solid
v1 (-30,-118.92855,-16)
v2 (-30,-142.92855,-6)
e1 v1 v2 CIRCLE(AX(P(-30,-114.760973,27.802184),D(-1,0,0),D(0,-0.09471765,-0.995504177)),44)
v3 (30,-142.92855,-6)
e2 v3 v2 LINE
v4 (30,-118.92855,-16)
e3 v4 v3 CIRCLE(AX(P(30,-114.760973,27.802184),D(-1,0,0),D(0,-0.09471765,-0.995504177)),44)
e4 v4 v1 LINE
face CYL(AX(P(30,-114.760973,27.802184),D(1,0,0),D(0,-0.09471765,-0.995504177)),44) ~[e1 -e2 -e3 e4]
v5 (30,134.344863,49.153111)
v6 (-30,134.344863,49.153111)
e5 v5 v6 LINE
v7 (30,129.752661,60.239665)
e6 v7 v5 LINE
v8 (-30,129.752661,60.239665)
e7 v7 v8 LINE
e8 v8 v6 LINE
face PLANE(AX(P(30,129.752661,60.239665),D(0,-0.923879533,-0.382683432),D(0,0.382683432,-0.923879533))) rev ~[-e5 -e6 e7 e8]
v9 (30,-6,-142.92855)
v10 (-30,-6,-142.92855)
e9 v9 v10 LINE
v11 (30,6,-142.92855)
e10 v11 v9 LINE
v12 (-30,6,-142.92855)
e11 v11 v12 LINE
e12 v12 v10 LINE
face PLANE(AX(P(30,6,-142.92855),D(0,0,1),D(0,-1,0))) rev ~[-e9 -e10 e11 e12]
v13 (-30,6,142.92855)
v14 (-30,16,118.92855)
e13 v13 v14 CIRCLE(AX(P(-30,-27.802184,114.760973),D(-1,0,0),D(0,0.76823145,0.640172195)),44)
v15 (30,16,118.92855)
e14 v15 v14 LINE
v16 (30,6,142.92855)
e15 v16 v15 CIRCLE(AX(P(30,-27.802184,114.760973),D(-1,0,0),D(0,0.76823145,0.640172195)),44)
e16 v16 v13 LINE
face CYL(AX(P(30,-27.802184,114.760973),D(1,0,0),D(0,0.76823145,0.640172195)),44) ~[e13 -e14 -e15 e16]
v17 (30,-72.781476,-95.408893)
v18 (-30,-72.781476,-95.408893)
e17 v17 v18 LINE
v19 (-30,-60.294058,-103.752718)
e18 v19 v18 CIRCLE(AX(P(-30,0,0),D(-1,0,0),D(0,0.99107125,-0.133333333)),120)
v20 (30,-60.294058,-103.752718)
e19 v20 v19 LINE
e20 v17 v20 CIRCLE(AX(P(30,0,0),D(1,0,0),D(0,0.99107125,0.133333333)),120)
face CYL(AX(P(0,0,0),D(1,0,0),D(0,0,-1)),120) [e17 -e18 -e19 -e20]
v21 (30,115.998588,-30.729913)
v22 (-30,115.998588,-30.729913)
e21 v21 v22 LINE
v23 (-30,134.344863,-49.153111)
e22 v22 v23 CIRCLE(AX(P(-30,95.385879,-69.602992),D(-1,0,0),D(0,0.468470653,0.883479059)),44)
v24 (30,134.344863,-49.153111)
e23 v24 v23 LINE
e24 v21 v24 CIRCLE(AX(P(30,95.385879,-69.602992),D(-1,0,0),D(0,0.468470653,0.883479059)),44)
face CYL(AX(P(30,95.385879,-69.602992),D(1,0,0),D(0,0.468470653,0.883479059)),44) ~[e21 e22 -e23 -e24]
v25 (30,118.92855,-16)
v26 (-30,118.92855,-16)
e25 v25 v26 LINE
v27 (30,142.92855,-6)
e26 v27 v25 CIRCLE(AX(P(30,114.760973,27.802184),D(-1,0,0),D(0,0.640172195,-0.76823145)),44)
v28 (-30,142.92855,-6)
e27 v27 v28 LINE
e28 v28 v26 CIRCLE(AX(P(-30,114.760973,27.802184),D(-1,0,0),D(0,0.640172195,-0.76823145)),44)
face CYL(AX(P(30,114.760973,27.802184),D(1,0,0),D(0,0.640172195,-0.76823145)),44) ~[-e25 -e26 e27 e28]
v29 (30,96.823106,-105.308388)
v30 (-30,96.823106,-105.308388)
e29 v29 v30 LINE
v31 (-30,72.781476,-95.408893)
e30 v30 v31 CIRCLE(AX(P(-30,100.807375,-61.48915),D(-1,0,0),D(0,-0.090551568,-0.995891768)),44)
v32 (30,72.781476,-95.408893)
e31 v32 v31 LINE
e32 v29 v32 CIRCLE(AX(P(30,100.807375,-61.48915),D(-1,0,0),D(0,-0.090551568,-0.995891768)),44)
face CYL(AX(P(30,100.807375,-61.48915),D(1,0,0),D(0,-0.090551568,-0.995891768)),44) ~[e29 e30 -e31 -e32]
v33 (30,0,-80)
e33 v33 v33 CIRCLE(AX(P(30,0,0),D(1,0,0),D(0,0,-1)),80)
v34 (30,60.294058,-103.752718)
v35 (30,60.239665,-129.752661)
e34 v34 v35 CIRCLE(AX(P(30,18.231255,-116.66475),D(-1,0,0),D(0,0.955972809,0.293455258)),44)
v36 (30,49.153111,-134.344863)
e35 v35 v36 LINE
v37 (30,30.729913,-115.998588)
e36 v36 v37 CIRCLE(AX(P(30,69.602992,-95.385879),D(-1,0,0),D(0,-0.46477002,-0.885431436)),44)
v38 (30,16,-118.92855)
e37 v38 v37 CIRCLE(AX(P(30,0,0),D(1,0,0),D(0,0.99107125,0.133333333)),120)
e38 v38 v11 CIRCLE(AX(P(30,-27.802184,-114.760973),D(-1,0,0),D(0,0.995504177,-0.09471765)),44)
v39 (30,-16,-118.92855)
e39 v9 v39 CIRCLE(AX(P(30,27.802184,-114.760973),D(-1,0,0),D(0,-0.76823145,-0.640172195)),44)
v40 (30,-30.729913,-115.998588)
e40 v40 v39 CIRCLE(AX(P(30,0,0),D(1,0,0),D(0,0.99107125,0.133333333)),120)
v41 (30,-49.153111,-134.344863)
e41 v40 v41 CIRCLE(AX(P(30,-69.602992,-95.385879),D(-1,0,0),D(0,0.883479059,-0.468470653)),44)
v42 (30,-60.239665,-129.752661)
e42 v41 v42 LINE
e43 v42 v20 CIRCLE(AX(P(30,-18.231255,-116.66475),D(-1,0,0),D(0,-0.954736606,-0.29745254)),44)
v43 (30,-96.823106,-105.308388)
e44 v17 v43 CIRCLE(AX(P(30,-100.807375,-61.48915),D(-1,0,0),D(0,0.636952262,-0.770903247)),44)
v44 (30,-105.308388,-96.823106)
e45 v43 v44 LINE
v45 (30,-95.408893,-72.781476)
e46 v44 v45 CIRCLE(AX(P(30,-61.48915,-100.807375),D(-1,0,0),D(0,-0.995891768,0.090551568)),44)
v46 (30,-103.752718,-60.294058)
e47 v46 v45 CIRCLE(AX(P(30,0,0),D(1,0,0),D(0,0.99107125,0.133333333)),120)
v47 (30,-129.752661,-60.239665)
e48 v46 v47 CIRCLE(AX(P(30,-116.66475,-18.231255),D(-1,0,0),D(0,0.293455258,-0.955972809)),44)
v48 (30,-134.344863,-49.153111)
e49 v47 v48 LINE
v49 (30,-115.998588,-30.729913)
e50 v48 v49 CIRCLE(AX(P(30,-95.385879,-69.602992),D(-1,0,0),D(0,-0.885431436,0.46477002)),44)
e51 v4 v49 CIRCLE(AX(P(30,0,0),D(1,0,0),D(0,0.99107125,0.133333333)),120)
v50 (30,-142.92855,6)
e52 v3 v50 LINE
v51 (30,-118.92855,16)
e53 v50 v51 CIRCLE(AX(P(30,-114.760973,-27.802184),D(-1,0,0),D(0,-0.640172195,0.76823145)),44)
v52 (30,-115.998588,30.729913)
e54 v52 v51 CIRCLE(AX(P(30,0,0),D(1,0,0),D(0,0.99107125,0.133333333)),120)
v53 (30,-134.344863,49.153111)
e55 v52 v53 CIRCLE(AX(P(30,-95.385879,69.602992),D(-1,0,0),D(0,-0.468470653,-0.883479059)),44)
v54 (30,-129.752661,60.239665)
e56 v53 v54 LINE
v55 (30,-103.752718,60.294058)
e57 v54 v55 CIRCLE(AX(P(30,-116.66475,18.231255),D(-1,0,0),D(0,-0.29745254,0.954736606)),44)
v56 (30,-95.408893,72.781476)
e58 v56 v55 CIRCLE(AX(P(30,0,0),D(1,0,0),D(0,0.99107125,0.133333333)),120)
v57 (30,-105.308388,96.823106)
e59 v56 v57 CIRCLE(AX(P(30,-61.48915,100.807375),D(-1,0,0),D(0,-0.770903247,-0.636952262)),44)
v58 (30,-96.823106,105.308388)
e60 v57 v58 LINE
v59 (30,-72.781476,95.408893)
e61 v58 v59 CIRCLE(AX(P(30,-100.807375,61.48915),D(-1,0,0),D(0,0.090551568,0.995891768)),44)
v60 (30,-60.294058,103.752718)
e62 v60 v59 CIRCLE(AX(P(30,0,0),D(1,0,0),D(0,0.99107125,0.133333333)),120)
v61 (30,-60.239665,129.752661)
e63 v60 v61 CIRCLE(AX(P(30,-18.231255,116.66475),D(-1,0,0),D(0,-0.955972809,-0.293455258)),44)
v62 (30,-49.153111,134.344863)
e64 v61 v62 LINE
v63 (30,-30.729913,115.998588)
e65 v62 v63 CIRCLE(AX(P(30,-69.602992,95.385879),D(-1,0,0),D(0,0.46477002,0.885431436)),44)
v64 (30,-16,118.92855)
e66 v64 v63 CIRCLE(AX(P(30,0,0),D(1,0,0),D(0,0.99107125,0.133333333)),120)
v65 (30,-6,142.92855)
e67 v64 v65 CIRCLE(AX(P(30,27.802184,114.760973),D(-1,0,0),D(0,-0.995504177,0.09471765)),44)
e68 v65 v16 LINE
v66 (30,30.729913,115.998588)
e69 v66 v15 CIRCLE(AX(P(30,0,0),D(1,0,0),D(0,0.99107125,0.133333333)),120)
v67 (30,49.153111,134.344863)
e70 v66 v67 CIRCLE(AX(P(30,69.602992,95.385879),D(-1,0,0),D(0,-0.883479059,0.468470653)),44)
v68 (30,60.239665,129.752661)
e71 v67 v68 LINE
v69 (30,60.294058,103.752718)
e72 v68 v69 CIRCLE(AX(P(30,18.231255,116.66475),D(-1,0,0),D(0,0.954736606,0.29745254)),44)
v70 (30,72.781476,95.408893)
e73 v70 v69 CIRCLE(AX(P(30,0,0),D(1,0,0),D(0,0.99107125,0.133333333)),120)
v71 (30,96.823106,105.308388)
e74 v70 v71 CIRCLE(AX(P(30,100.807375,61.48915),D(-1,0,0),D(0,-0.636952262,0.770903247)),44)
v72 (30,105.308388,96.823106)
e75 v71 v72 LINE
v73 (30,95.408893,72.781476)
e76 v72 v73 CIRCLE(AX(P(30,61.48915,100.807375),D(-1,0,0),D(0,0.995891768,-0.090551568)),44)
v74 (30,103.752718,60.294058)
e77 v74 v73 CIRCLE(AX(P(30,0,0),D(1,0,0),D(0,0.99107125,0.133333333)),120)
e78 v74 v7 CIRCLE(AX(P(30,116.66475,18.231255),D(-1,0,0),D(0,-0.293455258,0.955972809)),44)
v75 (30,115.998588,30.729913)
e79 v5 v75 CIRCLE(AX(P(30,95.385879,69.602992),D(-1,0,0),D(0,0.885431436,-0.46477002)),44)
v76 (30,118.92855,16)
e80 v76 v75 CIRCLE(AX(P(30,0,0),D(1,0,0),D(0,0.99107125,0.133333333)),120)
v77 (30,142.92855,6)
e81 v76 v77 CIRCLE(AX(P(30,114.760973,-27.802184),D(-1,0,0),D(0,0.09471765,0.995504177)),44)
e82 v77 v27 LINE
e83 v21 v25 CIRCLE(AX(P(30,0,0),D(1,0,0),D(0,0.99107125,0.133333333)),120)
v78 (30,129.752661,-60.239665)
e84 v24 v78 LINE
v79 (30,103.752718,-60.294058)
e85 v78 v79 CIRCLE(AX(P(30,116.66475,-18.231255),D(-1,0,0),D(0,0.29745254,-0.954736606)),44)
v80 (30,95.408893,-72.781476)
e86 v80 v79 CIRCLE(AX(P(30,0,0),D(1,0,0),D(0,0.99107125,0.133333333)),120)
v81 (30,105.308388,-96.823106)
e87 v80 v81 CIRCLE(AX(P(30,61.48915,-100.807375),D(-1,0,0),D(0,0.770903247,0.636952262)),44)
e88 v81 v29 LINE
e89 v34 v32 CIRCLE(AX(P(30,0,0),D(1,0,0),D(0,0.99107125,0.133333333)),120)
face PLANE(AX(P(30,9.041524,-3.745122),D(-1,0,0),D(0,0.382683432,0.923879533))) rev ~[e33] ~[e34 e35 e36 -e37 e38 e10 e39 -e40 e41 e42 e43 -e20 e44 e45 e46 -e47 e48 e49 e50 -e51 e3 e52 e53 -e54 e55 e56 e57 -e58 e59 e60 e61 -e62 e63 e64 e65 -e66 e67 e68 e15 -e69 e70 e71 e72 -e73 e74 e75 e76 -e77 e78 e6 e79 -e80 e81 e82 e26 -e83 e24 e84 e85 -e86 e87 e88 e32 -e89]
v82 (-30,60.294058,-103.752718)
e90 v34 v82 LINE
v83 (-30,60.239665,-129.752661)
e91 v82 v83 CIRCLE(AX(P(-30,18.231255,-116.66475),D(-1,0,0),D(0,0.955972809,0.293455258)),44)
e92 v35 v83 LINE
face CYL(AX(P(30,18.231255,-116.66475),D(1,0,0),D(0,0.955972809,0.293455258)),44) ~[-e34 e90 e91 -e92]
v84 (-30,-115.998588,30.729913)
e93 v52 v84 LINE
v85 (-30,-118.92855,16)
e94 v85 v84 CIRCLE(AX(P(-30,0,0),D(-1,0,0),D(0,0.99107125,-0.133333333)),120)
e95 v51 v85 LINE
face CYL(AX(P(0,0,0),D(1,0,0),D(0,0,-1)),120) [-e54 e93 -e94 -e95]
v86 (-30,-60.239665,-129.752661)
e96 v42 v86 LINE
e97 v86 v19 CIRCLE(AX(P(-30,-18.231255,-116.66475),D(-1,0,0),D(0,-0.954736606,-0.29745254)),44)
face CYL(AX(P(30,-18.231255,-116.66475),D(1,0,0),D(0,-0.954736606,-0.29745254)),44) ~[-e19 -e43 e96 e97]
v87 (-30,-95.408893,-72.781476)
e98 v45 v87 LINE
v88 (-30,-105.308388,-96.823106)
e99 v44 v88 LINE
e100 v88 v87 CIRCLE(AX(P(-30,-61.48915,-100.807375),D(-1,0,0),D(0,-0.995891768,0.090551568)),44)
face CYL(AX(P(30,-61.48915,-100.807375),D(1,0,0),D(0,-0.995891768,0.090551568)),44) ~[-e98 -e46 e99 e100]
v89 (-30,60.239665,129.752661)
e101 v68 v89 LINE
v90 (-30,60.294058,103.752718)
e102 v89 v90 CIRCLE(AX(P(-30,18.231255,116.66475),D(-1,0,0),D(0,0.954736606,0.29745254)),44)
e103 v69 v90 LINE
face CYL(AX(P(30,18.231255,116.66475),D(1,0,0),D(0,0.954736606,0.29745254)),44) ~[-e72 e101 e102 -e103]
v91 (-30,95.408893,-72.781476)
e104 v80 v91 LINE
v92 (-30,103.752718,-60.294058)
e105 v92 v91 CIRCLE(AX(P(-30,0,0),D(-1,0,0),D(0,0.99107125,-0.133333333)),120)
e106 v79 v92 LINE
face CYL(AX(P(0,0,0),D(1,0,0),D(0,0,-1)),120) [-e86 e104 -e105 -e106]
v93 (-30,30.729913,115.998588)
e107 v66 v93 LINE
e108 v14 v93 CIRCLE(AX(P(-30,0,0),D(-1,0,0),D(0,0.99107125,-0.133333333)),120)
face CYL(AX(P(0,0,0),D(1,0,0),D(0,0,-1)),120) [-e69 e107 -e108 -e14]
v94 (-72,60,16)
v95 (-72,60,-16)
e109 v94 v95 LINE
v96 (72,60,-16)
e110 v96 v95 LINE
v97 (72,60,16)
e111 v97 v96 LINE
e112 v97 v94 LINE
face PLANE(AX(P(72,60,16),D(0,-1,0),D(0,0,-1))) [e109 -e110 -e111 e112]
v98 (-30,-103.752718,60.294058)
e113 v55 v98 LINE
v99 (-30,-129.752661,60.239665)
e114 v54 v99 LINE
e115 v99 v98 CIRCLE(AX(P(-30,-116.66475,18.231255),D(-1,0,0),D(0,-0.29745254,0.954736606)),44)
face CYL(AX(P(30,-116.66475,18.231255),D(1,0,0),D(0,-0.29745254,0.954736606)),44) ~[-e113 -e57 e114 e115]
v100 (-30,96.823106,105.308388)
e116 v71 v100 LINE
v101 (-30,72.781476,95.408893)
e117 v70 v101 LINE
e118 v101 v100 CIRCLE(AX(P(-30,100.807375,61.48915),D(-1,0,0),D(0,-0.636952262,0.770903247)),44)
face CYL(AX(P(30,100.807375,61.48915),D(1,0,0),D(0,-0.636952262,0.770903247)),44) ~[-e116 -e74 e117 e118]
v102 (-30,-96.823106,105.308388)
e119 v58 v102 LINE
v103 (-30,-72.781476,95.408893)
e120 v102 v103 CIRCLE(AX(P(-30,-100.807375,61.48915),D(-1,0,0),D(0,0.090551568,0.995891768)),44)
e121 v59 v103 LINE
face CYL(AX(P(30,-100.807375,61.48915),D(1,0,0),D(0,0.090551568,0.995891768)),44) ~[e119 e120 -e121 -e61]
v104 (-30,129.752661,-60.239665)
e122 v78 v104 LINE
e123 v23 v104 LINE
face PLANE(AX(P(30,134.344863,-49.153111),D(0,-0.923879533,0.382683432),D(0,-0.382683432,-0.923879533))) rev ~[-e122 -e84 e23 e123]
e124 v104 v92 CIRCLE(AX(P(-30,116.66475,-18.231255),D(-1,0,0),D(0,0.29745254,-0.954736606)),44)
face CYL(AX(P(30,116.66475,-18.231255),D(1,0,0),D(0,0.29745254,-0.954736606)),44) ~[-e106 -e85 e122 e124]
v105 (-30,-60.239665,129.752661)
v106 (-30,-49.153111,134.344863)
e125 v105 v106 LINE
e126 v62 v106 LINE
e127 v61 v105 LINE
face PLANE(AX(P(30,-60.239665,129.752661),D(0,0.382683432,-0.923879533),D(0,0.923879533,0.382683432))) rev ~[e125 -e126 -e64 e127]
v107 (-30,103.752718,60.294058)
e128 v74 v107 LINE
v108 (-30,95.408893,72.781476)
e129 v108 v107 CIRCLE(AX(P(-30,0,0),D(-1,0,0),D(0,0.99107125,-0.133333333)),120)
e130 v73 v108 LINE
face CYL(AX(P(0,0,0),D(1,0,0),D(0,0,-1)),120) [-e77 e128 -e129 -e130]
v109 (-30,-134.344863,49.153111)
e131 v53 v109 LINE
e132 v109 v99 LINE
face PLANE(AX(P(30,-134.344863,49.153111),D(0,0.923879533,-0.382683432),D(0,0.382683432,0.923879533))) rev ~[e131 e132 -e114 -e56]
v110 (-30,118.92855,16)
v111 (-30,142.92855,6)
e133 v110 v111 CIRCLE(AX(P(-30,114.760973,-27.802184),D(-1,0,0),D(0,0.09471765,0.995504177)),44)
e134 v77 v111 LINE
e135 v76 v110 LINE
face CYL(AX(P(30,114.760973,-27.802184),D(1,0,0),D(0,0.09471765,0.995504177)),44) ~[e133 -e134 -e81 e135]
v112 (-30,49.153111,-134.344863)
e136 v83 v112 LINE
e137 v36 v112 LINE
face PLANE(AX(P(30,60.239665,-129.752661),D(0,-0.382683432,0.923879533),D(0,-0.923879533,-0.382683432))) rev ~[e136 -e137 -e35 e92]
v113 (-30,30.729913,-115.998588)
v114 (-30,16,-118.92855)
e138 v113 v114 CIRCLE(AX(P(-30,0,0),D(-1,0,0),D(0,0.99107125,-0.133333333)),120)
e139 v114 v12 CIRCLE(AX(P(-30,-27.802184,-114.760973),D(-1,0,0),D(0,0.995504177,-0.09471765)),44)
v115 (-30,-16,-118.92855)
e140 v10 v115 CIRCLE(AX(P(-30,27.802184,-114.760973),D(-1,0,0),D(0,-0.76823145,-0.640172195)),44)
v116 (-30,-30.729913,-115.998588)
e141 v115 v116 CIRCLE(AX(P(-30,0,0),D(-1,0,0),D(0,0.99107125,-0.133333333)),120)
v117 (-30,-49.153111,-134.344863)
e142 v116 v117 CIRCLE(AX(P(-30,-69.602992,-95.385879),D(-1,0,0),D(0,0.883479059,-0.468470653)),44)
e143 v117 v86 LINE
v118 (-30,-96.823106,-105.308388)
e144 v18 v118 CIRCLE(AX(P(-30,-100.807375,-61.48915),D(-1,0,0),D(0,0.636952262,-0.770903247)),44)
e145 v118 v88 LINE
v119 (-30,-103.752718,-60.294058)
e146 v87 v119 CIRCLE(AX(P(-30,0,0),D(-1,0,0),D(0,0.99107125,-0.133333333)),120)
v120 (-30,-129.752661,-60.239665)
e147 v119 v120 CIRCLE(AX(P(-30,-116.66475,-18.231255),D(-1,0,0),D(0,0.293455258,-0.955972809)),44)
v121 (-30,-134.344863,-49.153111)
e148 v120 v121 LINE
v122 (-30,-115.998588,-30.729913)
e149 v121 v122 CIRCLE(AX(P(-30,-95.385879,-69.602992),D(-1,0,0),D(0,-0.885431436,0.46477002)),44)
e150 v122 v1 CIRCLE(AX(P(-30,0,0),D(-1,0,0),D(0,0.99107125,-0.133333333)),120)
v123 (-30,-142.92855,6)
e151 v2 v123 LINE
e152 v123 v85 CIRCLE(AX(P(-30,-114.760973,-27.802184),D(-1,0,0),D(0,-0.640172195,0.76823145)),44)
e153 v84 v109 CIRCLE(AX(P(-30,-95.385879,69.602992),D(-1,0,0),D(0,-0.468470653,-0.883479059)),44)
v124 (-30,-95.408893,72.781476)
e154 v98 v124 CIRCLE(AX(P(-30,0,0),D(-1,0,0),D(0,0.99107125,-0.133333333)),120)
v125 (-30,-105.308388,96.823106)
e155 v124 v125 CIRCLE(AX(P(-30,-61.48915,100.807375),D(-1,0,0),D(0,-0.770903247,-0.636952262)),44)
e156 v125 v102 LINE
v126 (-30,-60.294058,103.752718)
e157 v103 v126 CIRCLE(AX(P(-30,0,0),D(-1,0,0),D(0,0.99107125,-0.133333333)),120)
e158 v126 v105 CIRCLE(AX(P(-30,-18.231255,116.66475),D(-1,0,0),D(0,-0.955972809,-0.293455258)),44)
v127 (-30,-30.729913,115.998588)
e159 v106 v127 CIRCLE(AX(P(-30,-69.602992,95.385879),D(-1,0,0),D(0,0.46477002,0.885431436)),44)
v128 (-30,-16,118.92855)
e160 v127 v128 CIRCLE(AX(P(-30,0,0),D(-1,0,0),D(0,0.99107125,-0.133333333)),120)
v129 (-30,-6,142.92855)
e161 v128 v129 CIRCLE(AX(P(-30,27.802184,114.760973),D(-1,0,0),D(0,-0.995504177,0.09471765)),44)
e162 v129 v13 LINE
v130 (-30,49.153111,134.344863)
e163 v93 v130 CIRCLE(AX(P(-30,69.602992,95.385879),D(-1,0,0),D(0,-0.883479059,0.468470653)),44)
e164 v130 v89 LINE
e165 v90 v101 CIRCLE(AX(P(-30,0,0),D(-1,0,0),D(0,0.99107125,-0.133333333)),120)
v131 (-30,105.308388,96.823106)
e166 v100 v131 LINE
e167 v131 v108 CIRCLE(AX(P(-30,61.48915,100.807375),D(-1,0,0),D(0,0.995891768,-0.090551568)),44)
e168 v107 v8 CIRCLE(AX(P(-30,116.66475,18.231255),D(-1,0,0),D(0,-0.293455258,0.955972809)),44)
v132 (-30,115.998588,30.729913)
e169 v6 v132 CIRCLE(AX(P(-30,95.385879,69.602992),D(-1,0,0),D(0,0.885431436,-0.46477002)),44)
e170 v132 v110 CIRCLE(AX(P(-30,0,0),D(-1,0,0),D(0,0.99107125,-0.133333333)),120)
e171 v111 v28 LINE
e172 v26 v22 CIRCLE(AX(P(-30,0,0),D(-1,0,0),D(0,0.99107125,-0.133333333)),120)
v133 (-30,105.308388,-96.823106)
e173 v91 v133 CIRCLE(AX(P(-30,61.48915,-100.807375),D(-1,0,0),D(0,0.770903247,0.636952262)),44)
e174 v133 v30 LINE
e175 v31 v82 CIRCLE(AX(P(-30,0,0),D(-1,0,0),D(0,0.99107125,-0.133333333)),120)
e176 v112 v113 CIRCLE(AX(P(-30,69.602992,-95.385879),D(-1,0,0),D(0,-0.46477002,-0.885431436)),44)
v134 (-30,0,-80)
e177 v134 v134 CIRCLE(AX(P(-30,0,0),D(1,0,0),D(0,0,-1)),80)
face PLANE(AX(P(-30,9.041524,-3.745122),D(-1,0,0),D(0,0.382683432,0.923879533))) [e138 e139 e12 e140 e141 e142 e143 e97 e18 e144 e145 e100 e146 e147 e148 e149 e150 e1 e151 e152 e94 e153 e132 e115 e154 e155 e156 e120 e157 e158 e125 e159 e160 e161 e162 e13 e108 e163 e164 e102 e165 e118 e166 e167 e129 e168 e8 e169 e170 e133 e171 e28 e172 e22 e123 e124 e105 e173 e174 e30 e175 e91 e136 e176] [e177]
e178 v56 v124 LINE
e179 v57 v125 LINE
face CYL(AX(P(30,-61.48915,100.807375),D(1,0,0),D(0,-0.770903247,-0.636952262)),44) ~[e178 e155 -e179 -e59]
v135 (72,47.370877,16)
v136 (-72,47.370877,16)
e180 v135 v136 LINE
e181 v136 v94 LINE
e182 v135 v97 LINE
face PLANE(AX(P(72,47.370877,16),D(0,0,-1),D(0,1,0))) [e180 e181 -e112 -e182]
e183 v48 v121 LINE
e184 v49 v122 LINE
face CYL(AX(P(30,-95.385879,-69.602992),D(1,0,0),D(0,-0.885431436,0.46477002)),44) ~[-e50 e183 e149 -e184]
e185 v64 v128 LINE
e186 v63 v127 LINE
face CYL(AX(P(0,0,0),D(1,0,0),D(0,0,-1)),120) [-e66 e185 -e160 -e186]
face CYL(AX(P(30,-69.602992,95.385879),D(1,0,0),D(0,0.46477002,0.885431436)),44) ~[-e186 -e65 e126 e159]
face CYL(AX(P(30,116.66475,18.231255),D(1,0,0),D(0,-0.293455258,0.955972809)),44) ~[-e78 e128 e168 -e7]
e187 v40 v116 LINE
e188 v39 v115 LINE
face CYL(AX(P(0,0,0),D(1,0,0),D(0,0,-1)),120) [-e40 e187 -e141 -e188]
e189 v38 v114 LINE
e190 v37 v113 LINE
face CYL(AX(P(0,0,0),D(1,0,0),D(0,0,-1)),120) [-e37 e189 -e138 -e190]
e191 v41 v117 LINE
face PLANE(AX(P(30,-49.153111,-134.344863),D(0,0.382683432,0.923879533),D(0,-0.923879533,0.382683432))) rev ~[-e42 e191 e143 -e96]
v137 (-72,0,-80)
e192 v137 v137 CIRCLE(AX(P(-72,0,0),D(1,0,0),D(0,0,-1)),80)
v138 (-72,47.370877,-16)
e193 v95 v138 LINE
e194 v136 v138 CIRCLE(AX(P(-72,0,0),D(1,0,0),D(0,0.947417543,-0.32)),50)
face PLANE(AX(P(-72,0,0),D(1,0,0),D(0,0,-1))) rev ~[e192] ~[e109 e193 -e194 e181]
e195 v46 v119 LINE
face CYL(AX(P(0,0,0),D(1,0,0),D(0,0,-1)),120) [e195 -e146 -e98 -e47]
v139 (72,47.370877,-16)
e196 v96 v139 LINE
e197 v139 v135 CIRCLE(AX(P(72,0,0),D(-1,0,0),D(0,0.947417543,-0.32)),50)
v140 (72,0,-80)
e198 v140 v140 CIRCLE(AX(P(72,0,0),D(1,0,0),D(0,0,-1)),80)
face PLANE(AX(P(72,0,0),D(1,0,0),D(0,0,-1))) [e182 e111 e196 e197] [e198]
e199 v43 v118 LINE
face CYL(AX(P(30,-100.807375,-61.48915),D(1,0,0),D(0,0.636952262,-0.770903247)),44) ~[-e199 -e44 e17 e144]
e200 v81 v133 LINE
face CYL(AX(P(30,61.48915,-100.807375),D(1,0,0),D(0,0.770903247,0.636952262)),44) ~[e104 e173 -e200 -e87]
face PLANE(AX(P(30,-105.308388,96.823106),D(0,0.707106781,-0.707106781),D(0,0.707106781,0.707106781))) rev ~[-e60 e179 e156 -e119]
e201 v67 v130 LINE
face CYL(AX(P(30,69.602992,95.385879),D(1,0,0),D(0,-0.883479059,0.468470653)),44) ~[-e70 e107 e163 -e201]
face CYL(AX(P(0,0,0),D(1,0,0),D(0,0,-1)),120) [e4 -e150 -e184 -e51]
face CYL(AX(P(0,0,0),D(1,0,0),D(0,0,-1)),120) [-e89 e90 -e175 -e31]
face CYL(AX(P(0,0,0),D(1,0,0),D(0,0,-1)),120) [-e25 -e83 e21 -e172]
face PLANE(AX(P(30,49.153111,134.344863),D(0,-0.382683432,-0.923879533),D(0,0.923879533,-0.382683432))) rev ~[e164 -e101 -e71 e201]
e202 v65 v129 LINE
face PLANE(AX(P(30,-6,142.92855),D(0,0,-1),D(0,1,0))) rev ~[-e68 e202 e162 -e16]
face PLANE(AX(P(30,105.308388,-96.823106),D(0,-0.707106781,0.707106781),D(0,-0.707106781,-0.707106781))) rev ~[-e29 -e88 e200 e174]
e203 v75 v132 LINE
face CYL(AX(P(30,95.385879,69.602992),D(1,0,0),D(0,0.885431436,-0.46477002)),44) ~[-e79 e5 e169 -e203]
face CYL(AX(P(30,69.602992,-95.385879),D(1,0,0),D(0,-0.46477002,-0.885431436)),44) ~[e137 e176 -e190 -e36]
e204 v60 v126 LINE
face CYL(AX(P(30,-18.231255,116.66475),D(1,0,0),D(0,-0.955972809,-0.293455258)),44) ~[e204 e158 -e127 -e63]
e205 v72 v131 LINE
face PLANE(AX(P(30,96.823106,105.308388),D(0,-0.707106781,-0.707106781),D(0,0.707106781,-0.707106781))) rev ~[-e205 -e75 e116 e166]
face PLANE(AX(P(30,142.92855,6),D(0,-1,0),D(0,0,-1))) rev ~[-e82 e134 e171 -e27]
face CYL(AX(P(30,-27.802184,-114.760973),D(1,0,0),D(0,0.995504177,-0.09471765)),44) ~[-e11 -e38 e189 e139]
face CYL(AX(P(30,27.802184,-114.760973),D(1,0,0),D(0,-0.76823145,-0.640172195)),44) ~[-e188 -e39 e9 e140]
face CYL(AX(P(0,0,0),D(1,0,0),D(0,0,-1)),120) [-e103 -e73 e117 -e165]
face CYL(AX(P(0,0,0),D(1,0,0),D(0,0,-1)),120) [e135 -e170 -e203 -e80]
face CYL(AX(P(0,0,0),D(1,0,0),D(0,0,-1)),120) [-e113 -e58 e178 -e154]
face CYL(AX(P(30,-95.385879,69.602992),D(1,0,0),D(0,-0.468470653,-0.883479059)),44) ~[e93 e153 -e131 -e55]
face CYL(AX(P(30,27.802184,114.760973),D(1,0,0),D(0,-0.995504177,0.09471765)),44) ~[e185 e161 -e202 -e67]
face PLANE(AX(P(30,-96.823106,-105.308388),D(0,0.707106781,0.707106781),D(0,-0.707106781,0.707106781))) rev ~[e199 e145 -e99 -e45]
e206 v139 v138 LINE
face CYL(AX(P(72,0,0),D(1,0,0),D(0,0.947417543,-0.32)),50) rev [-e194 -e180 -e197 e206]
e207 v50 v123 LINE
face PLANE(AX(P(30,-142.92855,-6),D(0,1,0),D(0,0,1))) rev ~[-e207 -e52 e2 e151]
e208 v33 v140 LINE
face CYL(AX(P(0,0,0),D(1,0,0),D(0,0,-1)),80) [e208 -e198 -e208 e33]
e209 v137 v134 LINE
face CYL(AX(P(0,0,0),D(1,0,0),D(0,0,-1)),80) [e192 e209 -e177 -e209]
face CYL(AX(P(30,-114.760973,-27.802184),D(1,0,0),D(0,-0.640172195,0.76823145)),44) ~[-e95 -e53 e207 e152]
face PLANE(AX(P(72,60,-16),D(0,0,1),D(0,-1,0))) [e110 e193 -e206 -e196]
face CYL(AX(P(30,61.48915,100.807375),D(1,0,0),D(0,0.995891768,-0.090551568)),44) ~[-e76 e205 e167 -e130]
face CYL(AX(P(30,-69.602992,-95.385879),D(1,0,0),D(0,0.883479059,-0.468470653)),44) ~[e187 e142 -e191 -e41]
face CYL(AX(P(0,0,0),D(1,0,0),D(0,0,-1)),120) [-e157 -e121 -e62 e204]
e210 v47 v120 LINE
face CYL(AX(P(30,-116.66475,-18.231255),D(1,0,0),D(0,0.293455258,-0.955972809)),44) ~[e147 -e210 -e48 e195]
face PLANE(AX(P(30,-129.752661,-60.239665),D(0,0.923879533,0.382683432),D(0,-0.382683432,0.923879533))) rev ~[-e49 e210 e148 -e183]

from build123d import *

# Parameters (mm, degrees)
SKETCH1_R           = 120
BOSS_EXTRUDE1_DEPTH = 30
BOSS_EXTRUDE2_DEPTH = 60
CIRPATTERN1_COUNT   = 16
SKETCH3_R           = 80
BOSS_EXTRUDE3_DEPTH = 72
CUT_EXTRUDE1_DEPTH  = 249.179654279


with BuildPart() as part:
    # Sketch1 → Boss-Extrude1 (new, symmetric)
    with BuildSketch(Plane(origin=(0, 0, 0), x_dir=(0, 0, -1), z_dir=(1, 0, 0))):
        Circle(SKETCH1_R)
    extrude(amount=BOSS_EXTRUDE1_DEPTH, both=True)

    # Sketch2 → Boss-Extrude2 (add)
    with BuildSketch(Plane(origin=(30, 0, 0), x_dir=(0, 0, -1), z_dir=(1, 0, 0))):
        with BuildLine():
            Line((-6, 142.928549979), (6, 142.928549979))
            ThreePointArc((6, 142.928549979), (12.813200818, 131.684050319), (16, 118.928549979))
            ThreePointArc((16, 118.928549979), (0, -120), (-16, 118.928549979))
            ThreePointArc((-16, 118.928549979), (-12.813200818, 131.684050319), (-6, 142.928549979))
        make_face()
    boss_extrude2 = extrude(amount=-BOSS_EXTRUDE2_DEPTH)

    # CirPattern1: Boss-Extrude2 ×16 about axis
    cirpattern1_axis = Axis((0, 0, 0), (1, 0, 0))
    for i in range(1, CIRPATTERN1_COUNT):
        add(boss_extrude2.rotate(cirpattern1_axis, i * 360 / CIRPATTERN1_COUNT))

    # Sketch3 → Boss-Extrude3 (add, symmetric)
    with BuildSketch(Plane(origin=(0, 0, 0), x_dir=(0, 0, -1), z_dir=(1, 0, 0))):
        Circle(SKETCH3_R)
    extrude(amount=BOSS_EXTRUDE3_DEPTH, both=True)

    # Sketch4 → Cut-Extrude1 (cut, through all)
    with BuildSketch(Plane(origin=(72, 0, 0), x_dir=(0, 0, -1), z_dir=(1, 0, 0))):
        with BuildLine():
            Line((-16, 60), (16, 60))
            Line((16, 60), (16, 47.370877129))
            ThreePointArc((16, 47.370877129), (0, -50), (-16, 47.370877129))
            Line((-16, 47.370877129), (-16, 60))
        make_face()
    extrude(amount=-CUT_EXTRUDE1_DEPTH, mode=Mode.SUBTRACT)


solid = part.part
